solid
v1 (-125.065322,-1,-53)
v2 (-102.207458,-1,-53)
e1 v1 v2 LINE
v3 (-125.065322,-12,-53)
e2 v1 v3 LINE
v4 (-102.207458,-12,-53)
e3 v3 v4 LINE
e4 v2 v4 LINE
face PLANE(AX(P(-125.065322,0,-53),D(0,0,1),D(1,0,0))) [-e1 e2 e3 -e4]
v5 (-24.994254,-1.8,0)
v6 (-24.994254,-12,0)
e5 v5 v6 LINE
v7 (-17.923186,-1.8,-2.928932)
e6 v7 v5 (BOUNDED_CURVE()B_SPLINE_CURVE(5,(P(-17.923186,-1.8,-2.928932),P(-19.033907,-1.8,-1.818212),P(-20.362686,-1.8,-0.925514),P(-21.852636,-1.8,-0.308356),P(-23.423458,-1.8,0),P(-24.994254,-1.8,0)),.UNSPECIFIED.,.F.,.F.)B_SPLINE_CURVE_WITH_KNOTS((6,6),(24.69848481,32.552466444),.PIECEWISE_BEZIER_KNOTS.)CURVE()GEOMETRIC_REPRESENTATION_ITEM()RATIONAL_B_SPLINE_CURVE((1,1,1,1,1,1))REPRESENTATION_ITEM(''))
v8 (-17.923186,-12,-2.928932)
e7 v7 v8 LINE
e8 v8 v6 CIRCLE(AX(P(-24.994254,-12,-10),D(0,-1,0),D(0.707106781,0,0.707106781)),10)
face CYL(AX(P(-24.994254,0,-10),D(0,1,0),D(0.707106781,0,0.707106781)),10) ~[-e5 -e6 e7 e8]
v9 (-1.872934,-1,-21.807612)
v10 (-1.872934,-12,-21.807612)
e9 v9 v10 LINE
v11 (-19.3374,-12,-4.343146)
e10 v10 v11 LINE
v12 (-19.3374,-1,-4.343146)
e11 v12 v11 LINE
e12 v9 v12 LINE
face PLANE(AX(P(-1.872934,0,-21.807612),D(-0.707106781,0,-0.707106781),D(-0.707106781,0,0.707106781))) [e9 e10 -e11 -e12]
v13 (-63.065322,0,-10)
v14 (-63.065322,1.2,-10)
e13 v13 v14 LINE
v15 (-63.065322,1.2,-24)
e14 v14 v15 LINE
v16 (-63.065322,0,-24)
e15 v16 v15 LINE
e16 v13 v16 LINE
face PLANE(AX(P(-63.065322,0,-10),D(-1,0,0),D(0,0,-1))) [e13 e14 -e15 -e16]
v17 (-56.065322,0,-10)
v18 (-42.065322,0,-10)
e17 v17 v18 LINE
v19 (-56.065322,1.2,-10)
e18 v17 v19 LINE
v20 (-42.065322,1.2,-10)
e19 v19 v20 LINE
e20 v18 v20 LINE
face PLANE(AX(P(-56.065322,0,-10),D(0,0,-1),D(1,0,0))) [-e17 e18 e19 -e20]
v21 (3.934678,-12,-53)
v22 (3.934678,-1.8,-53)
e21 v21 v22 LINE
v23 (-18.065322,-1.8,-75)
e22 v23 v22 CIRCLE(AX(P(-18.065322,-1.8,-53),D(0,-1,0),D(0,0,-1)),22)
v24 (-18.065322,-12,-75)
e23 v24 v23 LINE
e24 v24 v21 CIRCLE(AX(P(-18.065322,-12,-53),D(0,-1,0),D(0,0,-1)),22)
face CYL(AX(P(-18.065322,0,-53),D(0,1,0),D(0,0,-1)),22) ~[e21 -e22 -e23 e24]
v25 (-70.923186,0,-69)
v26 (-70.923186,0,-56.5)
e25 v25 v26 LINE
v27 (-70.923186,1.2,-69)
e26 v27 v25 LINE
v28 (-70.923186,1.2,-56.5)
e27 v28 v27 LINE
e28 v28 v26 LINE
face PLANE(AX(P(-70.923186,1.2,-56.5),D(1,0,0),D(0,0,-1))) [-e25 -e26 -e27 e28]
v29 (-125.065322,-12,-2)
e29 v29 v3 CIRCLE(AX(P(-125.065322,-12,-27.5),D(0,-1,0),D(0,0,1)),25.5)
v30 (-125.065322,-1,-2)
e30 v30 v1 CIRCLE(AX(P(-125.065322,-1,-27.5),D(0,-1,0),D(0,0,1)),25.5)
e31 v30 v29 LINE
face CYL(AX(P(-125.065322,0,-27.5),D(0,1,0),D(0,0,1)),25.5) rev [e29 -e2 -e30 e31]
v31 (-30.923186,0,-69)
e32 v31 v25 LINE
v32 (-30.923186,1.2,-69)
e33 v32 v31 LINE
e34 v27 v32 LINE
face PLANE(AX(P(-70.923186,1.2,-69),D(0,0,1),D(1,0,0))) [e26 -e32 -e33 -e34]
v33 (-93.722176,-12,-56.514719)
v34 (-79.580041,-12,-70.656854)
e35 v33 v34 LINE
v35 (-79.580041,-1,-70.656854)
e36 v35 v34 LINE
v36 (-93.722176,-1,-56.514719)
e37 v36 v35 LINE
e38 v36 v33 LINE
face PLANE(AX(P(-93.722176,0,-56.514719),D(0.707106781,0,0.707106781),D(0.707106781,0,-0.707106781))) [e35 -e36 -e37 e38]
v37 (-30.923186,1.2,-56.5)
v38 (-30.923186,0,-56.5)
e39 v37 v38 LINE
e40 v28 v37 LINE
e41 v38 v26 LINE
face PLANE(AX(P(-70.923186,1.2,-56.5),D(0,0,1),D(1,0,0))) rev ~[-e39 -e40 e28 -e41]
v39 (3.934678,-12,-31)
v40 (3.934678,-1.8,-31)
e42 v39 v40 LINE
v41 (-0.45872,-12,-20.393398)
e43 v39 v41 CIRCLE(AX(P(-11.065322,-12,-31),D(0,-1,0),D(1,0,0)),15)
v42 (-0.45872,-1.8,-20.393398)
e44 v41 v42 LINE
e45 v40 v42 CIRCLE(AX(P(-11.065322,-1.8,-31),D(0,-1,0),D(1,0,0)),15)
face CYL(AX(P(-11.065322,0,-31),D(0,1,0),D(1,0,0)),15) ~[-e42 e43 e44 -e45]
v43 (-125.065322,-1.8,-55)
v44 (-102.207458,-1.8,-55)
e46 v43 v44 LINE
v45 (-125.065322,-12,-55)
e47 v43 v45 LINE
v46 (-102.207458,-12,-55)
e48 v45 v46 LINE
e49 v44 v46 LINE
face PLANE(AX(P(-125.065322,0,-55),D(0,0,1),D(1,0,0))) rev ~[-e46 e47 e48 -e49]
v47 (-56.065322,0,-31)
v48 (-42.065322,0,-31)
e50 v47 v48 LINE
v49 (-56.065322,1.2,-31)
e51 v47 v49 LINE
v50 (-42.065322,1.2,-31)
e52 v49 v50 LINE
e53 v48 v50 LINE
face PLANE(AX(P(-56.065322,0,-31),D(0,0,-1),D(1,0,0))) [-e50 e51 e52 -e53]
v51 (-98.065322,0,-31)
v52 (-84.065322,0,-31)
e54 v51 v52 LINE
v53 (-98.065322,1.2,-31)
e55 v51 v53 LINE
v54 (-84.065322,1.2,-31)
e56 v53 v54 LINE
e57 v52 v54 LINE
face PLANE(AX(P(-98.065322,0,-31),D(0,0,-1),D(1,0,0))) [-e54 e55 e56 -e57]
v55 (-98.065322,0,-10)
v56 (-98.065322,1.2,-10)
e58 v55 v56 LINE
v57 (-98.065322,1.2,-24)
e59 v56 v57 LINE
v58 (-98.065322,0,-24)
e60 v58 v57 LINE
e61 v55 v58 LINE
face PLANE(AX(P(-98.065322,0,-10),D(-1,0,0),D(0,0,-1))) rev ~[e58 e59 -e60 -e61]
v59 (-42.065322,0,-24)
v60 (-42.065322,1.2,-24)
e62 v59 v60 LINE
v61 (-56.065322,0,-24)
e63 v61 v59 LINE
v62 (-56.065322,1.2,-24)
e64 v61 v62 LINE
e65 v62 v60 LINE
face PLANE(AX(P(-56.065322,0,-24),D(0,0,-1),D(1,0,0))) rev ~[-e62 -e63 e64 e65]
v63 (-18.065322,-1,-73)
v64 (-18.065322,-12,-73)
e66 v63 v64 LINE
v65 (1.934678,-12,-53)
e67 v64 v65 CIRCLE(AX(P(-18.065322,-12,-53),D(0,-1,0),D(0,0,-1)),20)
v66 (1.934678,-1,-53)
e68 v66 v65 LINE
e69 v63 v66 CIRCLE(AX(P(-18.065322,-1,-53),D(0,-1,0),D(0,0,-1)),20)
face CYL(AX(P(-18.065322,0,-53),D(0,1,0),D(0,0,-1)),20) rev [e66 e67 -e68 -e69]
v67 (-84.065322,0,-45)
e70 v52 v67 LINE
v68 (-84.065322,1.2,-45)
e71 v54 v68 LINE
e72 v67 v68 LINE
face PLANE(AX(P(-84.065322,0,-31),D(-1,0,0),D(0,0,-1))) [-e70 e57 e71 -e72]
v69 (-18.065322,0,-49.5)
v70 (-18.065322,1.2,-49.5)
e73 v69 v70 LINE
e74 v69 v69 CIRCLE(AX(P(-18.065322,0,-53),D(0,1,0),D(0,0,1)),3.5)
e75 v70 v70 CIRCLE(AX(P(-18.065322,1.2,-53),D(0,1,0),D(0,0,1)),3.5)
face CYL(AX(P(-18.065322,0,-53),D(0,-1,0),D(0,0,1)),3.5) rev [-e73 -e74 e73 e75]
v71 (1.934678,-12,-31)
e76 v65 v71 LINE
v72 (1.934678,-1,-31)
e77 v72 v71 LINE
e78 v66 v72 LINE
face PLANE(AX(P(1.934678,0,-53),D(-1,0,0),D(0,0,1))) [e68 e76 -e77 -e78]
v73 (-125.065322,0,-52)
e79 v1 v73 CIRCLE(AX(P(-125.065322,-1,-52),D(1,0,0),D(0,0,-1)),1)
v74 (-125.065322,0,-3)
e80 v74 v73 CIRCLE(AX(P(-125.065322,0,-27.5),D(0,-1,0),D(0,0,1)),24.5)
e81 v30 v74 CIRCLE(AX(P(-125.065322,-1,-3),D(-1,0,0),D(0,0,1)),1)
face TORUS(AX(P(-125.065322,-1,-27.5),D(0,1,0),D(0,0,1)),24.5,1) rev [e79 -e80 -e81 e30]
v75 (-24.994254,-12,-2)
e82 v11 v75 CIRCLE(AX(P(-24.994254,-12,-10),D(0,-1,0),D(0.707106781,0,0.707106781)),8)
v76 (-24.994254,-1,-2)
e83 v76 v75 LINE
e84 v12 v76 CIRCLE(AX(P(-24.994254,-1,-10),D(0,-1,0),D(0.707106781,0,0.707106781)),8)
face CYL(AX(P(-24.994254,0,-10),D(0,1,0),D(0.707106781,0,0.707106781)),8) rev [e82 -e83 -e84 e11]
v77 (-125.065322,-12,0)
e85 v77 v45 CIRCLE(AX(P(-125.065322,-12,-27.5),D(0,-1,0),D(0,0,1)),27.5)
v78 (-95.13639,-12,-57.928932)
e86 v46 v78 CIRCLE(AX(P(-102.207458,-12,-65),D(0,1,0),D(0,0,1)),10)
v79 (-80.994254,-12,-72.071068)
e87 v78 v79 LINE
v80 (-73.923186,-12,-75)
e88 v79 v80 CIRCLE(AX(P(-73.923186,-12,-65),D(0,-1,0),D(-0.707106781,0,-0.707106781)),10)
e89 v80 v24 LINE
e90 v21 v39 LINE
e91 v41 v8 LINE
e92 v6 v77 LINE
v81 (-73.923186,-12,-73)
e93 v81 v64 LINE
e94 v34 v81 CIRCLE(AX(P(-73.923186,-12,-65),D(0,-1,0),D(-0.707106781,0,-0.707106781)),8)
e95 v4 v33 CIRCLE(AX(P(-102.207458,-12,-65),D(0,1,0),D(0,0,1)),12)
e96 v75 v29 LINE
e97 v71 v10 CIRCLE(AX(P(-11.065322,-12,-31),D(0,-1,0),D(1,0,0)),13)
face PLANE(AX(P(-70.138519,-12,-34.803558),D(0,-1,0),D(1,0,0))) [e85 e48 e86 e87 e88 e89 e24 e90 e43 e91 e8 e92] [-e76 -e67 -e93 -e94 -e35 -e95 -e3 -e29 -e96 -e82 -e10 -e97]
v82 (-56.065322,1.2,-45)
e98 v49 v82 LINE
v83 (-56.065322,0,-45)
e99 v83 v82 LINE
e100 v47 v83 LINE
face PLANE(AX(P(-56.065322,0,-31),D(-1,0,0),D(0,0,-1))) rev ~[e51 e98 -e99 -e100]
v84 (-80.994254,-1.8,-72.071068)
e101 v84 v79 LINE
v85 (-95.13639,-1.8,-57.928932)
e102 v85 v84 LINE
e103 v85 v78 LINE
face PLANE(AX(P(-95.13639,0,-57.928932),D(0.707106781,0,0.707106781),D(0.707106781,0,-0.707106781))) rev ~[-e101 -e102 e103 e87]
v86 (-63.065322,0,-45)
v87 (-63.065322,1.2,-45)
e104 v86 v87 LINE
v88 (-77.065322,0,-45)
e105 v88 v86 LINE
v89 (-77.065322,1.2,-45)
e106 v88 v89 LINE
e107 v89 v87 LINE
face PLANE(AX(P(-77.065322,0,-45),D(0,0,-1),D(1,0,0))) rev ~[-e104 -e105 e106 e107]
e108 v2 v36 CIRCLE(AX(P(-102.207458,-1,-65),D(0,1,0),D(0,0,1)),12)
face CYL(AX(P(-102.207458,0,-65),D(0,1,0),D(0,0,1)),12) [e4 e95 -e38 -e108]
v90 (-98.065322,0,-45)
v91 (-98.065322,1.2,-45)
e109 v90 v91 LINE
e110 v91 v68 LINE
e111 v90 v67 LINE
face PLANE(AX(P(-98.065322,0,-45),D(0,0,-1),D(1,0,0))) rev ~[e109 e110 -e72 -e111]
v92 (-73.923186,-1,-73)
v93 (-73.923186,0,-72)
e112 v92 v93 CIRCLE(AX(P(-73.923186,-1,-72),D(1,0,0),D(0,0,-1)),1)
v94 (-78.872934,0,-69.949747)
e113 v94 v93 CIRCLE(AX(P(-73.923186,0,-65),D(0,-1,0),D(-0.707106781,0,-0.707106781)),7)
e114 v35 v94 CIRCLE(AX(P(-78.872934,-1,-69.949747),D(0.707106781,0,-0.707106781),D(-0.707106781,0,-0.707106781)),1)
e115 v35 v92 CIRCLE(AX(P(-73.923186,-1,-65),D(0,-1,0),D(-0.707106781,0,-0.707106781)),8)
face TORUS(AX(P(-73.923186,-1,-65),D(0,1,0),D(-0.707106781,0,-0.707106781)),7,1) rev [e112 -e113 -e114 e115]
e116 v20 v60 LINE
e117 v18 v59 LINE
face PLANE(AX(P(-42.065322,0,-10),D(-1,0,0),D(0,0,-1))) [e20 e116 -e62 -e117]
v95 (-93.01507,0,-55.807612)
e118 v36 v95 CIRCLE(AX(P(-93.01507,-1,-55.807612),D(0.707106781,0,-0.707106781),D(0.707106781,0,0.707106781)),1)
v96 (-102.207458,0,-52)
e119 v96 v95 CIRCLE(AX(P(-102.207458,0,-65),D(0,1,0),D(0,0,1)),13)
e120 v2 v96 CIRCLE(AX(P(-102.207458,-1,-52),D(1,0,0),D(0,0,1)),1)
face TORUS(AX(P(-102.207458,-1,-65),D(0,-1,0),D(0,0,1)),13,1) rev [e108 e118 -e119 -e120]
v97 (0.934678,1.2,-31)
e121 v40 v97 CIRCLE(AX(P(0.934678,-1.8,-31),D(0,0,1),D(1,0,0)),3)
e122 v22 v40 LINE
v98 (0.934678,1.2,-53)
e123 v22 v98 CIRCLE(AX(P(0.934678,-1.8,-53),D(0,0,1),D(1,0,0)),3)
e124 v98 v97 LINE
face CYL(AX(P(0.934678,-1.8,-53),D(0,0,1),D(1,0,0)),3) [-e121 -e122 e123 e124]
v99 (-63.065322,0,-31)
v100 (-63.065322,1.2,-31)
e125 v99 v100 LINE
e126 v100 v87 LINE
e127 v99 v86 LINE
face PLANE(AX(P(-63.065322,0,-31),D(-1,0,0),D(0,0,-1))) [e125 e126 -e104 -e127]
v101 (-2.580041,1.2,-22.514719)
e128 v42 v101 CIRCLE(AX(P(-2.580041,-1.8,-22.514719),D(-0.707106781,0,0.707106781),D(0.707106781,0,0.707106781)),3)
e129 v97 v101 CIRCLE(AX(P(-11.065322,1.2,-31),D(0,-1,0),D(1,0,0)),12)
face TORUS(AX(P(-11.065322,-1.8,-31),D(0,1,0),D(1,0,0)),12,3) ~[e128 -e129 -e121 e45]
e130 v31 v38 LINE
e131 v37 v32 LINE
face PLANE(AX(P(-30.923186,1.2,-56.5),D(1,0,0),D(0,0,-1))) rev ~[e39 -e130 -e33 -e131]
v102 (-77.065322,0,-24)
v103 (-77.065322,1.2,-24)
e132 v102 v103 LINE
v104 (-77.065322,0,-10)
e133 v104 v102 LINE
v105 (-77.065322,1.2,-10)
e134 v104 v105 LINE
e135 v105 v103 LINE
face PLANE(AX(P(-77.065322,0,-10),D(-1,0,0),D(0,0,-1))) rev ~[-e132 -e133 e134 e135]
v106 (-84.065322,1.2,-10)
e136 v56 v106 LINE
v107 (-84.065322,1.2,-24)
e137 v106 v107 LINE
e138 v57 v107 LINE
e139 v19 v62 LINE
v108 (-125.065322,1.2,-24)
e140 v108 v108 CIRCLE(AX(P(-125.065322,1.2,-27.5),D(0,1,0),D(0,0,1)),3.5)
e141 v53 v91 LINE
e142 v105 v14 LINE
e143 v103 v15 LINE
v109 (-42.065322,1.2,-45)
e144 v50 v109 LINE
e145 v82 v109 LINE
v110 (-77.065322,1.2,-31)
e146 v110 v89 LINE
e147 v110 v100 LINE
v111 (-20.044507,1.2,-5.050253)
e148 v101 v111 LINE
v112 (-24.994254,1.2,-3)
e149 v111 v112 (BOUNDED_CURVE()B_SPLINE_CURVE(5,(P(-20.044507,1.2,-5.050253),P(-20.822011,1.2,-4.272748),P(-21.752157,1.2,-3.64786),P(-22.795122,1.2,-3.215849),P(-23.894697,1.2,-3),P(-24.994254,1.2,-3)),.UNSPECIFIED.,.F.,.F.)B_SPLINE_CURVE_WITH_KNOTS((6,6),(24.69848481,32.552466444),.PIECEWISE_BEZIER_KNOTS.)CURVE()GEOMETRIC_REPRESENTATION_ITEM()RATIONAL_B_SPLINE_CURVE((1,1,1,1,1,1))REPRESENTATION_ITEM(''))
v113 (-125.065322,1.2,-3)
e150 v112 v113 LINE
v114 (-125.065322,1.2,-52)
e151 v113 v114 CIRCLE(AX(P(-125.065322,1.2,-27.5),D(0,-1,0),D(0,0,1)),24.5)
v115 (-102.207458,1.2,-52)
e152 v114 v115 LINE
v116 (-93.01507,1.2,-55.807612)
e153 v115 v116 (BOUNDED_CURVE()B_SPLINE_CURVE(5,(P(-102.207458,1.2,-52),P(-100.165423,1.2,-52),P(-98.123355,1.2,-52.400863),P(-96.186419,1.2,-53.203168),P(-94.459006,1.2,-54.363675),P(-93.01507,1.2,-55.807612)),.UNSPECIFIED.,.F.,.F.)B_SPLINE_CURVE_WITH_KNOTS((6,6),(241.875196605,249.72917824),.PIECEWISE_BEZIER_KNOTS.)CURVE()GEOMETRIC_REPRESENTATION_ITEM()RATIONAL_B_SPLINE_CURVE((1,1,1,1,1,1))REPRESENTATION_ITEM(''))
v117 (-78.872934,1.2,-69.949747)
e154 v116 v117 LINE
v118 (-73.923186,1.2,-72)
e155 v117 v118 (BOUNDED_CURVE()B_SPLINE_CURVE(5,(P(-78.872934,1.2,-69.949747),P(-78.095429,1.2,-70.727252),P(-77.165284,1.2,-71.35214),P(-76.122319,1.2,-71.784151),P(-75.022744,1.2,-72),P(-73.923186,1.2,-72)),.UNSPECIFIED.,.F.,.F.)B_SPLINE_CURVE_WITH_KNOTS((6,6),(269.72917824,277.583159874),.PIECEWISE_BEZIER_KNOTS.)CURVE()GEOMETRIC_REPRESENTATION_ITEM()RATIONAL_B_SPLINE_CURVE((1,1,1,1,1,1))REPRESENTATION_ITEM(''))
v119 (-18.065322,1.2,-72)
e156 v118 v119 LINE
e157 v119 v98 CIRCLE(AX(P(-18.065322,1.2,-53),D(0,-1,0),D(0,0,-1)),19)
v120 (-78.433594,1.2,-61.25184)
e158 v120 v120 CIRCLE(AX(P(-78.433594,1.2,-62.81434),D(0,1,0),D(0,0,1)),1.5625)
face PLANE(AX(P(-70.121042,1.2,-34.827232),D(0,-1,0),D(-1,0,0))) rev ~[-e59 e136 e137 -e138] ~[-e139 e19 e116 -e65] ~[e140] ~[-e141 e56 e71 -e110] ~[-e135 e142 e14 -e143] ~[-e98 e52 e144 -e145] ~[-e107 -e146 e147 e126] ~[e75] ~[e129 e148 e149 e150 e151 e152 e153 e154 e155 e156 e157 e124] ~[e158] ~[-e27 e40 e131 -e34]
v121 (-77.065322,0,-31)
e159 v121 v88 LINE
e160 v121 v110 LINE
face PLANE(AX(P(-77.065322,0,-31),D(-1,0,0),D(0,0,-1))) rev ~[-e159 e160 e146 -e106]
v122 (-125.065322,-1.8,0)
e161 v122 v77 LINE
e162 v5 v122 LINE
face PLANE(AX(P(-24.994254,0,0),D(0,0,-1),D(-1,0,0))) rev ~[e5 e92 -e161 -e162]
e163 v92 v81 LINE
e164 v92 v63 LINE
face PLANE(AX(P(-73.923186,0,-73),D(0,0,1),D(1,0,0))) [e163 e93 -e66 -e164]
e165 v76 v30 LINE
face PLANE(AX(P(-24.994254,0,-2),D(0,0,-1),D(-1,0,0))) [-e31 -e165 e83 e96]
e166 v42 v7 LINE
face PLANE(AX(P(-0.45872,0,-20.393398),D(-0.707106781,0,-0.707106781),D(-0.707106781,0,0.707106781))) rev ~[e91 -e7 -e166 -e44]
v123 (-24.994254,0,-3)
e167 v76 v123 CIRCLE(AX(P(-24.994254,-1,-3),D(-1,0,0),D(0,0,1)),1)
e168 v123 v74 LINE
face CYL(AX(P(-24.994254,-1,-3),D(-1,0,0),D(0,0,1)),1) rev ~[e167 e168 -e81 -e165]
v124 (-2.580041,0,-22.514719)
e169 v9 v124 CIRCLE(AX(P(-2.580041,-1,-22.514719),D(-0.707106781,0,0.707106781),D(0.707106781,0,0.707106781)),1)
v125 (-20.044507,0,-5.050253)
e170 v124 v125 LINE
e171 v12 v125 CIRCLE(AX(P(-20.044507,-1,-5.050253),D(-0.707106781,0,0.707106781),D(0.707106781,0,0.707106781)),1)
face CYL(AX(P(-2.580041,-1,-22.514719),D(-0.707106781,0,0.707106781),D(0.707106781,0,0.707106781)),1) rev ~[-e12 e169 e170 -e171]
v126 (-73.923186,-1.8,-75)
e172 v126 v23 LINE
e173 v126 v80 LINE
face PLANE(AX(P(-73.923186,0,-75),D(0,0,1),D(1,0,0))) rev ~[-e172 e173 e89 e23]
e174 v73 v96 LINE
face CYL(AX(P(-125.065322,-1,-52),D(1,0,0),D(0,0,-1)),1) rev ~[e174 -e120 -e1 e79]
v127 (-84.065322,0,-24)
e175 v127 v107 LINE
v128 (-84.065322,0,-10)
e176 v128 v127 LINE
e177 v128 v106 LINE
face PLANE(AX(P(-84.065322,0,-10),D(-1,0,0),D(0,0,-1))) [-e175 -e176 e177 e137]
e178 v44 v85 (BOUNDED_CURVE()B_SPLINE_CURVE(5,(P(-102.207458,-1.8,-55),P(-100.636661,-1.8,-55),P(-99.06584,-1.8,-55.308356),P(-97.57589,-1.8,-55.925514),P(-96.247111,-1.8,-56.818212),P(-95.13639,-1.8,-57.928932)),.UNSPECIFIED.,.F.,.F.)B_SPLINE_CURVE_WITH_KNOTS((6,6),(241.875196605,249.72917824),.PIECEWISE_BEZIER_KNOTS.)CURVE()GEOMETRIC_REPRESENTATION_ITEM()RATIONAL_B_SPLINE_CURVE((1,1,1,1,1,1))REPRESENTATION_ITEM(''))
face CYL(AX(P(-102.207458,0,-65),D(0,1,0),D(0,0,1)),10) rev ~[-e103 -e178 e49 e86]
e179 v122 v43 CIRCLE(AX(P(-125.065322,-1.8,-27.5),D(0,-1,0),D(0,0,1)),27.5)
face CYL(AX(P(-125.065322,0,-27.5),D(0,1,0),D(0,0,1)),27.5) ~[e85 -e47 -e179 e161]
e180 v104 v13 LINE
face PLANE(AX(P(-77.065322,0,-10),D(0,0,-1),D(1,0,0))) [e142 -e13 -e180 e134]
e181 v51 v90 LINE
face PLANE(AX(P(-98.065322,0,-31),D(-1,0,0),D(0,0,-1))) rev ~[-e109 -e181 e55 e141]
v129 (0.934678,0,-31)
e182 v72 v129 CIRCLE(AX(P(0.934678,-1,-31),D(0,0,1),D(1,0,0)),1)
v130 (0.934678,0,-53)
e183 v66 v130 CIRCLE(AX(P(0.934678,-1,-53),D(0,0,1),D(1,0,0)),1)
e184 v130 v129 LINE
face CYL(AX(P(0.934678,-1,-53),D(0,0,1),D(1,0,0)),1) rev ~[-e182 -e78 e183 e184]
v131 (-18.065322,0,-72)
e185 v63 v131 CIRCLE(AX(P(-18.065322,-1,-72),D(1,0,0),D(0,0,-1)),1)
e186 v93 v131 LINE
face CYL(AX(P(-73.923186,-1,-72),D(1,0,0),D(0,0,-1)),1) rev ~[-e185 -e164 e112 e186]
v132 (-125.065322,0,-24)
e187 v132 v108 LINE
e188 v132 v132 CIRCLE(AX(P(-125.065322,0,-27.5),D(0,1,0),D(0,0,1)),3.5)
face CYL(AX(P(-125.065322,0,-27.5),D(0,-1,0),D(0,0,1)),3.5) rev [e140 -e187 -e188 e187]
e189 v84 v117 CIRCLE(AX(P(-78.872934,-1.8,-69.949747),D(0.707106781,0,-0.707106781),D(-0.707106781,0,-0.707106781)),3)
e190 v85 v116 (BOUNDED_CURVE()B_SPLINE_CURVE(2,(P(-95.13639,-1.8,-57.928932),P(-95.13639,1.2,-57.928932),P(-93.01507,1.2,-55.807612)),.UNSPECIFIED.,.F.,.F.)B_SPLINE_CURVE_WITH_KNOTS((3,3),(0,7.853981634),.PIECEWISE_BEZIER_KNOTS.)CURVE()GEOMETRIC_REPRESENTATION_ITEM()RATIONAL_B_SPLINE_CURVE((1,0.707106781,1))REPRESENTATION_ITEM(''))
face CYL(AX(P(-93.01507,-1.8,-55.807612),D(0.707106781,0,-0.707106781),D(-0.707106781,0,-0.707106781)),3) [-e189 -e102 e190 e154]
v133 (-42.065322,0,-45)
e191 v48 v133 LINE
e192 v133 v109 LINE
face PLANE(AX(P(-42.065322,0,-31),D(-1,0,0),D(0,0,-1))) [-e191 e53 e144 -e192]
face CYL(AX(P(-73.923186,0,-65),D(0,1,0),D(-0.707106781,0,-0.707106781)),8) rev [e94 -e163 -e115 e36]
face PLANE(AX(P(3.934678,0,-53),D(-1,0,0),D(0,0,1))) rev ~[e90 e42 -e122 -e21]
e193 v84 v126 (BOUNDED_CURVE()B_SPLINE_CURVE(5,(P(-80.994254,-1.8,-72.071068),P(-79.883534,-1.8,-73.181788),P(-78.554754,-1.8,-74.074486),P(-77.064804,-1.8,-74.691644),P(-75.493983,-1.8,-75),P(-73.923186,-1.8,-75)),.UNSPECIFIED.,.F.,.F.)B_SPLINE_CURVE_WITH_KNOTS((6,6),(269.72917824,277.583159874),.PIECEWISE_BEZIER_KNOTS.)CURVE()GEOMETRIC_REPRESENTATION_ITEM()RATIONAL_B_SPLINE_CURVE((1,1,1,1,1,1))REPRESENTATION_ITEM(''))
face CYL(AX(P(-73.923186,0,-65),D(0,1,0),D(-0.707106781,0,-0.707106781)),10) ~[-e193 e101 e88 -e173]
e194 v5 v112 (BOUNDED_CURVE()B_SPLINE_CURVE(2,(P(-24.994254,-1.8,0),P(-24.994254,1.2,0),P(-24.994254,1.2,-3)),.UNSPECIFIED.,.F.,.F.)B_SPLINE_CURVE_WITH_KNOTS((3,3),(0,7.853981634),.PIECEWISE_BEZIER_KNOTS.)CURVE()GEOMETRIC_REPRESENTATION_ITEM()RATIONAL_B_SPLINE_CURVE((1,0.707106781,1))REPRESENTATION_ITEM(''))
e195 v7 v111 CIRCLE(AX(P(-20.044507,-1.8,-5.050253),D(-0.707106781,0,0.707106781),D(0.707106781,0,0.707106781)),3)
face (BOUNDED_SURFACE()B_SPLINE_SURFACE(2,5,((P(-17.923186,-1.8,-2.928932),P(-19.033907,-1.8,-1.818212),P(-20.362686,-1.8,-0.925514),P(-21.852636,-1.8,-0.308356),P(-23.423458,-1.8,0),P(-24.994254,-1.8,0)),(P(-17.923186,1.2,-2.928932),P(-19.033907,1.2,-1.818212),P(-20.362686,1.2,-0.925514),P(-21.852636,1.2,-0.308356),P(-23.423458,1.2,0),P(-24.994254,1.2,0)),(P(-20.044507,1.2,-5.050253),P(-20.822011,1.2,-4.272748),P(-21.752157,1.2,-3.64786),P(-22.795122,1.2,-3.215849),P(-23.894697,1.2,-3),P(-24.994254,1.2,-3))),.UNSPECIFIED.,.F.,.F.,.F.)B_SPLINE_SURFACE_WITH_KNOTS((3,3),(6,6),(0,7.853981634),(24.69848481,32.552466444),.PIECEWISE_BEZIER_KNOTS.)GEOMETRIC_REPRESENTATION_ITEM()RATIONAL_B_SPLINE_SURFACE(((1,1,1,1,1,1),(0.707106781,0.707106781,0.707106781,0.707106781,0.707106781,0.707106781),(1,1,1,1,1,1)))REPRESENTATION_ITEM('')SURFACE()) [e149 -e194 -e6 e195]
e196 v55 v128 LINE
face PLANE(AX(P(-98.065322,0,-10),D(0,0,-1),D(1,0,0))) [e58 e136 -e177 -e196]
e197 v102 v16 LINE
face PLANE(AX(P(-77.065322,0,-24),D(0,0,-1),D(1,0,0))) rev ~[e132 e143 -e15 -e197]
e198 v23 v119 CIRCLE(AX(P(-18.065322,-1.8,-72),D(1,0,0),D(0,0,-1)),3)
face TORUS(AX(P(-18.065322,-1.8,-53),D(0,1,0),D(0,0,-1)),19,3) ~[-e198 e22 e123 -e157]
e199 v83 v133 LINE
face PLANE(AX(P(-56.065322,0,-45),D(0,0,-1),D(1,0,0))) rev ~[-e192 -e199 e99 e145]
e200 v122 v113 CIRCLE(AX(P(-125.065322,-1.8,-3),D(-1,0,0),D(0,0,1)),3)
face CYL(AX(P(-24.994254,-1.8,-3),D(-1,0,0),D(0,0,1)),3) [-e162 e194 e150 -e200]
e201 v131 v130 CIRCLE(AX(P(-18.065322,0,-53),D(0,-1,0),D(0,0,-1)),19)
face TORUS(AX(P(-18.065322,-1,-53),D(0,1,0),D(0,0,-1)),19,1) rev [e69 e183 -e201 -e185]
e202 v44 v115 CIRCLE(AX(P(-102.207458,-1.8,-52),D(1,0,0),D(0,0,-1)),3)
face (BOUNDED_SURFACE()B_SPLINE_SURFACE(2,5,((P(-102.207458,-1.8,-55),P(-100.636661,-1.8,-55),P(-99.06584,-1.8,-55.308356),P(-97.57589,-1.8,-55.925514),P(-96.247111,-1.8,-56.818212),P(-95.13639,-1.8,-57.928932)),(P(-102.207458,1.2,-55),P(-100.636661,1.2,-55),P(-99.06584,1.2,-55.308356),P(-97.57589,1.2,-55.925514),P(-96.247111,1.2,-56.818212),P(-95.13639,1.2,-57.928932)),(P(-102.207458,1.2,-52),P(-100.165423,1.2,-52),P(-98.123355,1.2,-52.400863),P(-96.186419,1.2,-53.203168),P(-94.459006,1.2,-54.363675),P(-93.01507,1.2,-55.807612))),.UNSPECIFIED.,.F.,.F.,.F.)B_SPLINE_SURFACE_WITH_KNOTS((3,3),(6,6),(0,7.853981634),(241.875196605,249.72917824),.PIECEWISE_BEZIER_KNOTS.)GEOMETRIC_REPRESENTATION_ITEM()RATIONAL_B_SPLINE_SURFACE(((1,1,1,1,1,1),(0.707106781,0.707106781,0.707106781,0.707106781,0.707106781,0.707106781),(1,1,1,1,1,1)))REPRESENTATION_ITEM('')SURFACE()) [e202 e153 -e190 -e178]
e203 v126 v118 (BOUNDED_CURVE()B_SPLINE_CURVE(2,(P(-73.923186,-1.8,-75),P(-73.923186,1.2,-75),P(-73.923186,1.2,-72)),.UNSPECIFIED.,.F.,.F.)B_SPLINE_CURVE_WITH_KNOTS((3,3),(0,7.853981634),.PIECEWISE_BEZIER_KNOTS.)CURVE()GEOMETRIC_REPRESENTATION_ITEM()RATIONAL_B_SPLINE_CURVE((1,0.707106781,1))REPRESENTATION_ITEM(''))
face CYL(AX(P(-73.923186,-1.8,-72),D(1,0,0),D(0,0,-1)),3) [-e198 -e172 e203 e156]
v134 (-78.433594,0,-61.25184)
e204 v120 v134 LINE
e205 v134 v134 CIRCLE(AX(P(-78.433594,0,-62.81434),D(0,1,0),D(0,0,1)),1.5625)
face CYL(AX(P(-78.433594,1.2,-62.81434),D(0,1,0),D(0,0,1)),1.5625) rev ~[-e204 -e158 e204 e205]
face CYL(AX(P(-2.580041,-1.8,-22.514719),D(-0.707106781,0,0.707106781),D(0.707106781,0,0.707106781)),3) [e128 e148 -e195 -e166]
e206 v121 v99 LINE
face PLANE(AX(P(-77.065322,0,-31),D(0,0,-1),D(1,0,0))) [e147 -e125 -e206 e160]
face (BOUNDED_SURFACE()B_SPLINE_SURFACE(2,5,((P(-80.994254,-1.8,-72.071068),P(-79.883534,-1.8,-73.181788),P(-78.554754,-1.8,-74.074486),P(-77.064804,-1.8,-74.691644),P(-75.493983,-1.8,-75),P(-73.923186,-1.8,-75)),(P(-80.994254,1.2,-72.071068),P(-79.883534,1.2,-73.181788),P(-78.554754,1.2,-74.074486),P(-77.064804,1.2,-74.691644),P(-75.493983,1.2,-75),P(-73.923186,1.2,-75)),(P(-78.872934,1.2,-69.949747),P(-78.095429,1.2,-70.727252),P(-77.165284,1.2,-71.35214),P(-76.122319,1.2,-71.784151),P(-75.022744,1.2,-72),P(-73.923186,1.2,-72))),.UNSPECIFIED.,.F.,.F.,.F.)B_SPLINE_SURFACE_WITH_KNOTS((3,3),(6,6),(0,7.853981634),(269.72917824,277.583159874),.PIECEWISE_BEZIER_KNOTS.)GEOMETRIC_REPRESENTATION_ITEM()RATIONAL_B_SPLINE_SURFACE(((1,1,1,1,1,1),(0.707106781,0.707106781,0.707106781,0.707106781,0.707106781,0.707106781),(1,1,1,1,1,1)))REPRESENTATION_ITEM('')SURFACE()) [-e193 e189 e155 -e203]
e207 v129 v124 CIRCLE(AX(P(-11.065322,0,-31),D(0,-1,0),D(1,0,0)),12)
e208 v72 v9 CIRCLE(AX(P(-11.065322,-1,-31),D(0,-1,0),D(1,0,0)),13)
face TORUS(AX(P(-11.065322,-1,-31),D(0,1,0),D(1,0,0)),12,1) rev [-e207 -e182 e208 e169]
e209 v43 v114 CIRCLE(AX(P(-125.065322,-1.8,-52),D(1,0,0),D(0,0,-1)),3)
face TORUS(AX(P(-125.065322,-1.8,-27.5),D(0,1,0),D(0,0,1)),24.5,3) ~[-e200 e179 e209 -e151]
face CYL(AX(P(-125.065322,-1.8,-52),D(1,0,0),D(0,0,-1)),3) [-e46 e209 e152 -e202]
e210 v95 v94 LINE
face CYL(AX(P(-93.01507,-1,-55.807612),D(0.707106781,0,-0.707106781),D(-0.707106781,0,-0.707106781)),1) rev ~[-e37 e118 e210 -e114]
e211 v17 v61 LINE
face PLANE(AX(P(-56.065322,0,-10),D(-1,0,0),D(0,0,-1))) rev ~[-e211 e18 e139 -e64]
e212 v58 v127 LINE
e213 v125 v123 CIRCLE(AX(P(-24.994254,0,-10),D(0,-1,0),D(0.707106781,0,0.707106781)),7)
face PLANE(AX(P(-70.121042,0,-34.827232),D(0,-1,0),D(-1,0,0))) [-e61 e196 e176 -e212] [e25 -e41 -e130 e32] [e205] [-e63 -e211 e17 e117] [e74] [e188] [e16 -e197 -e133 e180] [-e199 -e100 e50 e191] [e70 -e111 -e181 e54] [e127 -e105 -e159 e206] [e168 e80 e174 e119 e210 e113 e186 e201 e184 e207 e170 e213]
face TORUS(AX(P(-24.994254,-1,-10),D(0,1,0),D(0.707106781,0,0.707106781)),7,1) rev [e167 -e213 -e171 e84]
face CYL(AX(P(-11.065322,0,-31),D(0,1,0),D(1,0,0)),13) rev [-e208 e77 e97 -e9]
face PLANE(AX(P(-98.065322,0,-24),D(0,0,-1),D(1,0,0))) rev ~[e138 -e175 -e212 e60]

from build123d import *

# Parameters (mm, degrees)
SKETCH1_R           = 3.5
SKETCH1_W           = 14
SKETCH1_H           = 14
BOSS_EXTRUDE1_DEPTH = 1.2
FILLET1_R           = 10
BOSS_EXTRUDE2_DEPTH = 12
FILLET2_R           = 3
FILLET3_R           = 1
SKETCH4_R           = 1.5625
SKETCH4_W           = 40
SKETCH4_H           = 12.5
CUT_EXTRUDE1_DEPTH  = 171.515153338


with BuildPart() as part:
    # Sketch1 → Boss-Extrude1 (new body)
    with BuildSketch(Plane(origin=(0, 0, 0), x_dir=(1, 0, 0), z_dir=(0, 1, 0))):
        with BuildLine():
            Line((-125.065322034, 55), (-98.065322034, 55))
            Line((-98.065322034, 55), (-78.065322034, 75))
            Line((-78.065322034, 75), (-18.065322034, 75))
            ThreePointArc((-18.065322034, 75), (-2.508972848, 68.556349186), (3.934677966, 53))
            Line((3.934677966, 53), (3.934677966, 31))
            ThreePointArc((3.934677966, 31), (2.792870954, 25.259748515), (-0.458720316, 20.393398282))
            Line((-0.458720316, 20.393398282), (-20.852118598, 0))
            Line((-20.852118598, 0), (-25.734830863, 0))
            Line((-25.734830863, 0), (-125.065322034, 0))
            ThreePointArc((-125.065322034, 0), (-152.565322034, 27.5), (-125.065322034, 55))
        make_face()
        with Locations(Location((-125.065322034, 27.5, 0), (0, 0, 270))):
            Circle(SKETCH1_R, mode=Mode.SUBTRACT)
        with Locations(Location((-18.065322034, 53, 0), (0, 0, 270))):
            Circle(SKETCH1_R, mode=Mode.SUBTRACT)
        with Locations((-70.065322034, 17)):
            Rectangle(SKETCH1_W, SKETCH1_H, mode=Mode.SUBTRACT)
        with Locations((-91.065322034, 17)):
            Rectangle(SKETCH1_W, SKETCH1_H, mode=Mode.SUBTRACT)
        with Locations((-49.065322034, 17)):
            Rectangle(SKETCH1_W, SKETCH1_H, mode=Mode.SUBTRACT)
        with Locations((-70.065322034, 38)):
            Rectangle(SKETCH1_W, SKETCH1_H, mode=Mode.SUBTRACT)
        with Locations((-49.065322034, 38)):
            Rectangle(SKETCH1_W, SKETCH1_H, mode=Mode.SUBTRACT)
        with Locations((-91.065322034, 38)):
            Rectangle(SKETCH1_W, SKETCH1_H, mode=Mode.SUBTRACT)
    extrude(amount=BOSS_EXTRUDE1_DEPTH)

    # Fillet1
    fillet1_edges = [part.edges().sort_by_distance(p)[0] for p in [
        (-98.065322034, 0.6, -55),
        (-78.065322034, 0.6, -75),
        (-20.852118598, 0.6, 0),
    ]]
    fillet(fillet1_edges, radius=FILLET1_R)

    # Sketch3 → Boss-Extrude2 (add)
    with BuildSketch(Plane.XZ):
        with BuildLine():
            Line((-0.458720316, -20.393398282), (-17.92318641, -2.928932188))
            ThreePointArc((-17.92318641, -2.928932188), (-21.167419898, -0.761204675), (-24.994254222, 0))
            Line((-24.994254222, 0), (-125.065322034, 0))
            ThreePointArc((-125.065322034, 0), (-152.565322034, -27.5), (-125.065322034, -55))
            Line((-125.065322034, -55), (-102.207457658, -55))
            ThreePointArc((-102.207457658, -55), (-98.380623334, -55.761204675), (-95.136389846, -57.928932188))
            Line((-95.136389846, -57.928932188), (-80.994254222, -72.071067812))
            ThreePointArc((-80.994254222, -72.071067812), (-77.750020734, -74.238795325), (-73.92318641, -75))
            Line((-73.92318641, -75), (-18.065322034, -75))
            ThreePointArc((-18.065322034, -75), (-2.508972848, -68.556349186), (3.934677966, -53))
            Line((3.934677966, -53), (3.934677966, -31))
            ThreePointArc((3.934677966, -31), (2.792870954, -25.259748515), (-0.458720316, -20.393398282))
        make_face()
        with BuildLine():
            Line((-1.872933878, -21.807611845), (-19.337399973, -4.343145751))
            ThreePointArc((-19.337399973, -4.343145751), (-21.932786763, -2.60896374), (-24.994254222, -2))
            Line((-24.994254222, -2), (-125.065322034, -2))
            ThreePointArc((-125.065322034, -2), (-150.565322034, -27.5), (-125.065322034, -53))
            Line((-125.065322034, -53), (-102.207457658, -53))
            ThreePointArc((-102.207457658, -53), (-97.615256469, -53.91344561), (-93.722176283, -56.514718626))
            Line((-93.722176283, -56.514718626), (-79.58004066, -70.656854249))
            ThreePointArc((-79.58004066, -70.656854249), (-76.984653869, -72.39103626), (-73.92318641, -73))
            Line((-73.92318641, -73), (-18.065322034, -73))
            ThreePointArc((-18.065322034, -73), (-3.92318641, -67.142135624), (1.934677966, -53))
            Line((1.934677966, -53), (1.934677966, -31))
            ThreePointArc((1.934677966, -31), (0.945111889, -26.025115379), (-1.872933878, -21.807611845))
        make_face(mode=Mode.SUBTRACT)
    extrude(amount=BOSS_EXTRUDE2_DEPTH)

    # Fillet2
    fillet2_edges = [part.edges().sort_by_distance(p)[0] for p in [
        (-9.190953363, 1.2, -11.661165235),
        (-88.065322034, 1.2, -65),
        (-113.636389846, 1.2, -55),
        (-77.750020734, 1.2, -74.238795325),
        (-21.167419898, 1.2, -0.761204675),
        (-98.380623334, 1.2, -55.761204675),
        (2.792870954, 1.2, -25.259748515),
        (3.934677966, 1.2, -42),
        (-2.508972848, 1.2, -68.556349186),
        (-45.994254222, 1.2, -75),
        (-152.565322034, 1.2, -27.5),
        (-75.029788128, 1.2, 0),
    ]]
    fillet(fillet2_edges, radius=FILLET2_R)

    # Fillet3
    fillet3_edges = [part.edges().sort_by_distance(p)[0] for p in [
        (-97.615256469, 0, -53.91344561),
        (0.945111889, 0, -26.025115379),
        (-10.605166926, 0, -13.075378798),
        (-21.932786763, 0, -2.60896374),
        (-75.029788128, 0, -2),
        (-150.565322034, 0, -27.5),
        (-113.636389846, 0, -53),
        (-86.651108472, 0, -63.585786438),
        (-76.984653869, 0, -72.39103626),
        (-45.994254222, 0, -73),
        (-3.92318641, 0, -67.142135624),
        (1.934677966, 0, -42),
    ]]
    fillet(fillet3_edges, radius=FILLET3_R)

    # Sketch4 → Cut-Extrude1 (cut, through all)
    with BuildSketch(Plane(origin=(0, 1.2, 0), x_dir=(1, 0, 0), z_dir=(0, 1, 0))):
        with Locations(Location((-78.43359405, 62.814339828, 0), (0, 0, 270))):
            Circle(SKETCH4_R)
        with Locations((-50.92318641, 62.75)):
            Rectangle(SKETCH4_W, SKETCH4_H)
    extrude(amount=-CUT_EXTRUDE1_DEPTH, mode=Mode.SUBTRACT)


solid = part.part
